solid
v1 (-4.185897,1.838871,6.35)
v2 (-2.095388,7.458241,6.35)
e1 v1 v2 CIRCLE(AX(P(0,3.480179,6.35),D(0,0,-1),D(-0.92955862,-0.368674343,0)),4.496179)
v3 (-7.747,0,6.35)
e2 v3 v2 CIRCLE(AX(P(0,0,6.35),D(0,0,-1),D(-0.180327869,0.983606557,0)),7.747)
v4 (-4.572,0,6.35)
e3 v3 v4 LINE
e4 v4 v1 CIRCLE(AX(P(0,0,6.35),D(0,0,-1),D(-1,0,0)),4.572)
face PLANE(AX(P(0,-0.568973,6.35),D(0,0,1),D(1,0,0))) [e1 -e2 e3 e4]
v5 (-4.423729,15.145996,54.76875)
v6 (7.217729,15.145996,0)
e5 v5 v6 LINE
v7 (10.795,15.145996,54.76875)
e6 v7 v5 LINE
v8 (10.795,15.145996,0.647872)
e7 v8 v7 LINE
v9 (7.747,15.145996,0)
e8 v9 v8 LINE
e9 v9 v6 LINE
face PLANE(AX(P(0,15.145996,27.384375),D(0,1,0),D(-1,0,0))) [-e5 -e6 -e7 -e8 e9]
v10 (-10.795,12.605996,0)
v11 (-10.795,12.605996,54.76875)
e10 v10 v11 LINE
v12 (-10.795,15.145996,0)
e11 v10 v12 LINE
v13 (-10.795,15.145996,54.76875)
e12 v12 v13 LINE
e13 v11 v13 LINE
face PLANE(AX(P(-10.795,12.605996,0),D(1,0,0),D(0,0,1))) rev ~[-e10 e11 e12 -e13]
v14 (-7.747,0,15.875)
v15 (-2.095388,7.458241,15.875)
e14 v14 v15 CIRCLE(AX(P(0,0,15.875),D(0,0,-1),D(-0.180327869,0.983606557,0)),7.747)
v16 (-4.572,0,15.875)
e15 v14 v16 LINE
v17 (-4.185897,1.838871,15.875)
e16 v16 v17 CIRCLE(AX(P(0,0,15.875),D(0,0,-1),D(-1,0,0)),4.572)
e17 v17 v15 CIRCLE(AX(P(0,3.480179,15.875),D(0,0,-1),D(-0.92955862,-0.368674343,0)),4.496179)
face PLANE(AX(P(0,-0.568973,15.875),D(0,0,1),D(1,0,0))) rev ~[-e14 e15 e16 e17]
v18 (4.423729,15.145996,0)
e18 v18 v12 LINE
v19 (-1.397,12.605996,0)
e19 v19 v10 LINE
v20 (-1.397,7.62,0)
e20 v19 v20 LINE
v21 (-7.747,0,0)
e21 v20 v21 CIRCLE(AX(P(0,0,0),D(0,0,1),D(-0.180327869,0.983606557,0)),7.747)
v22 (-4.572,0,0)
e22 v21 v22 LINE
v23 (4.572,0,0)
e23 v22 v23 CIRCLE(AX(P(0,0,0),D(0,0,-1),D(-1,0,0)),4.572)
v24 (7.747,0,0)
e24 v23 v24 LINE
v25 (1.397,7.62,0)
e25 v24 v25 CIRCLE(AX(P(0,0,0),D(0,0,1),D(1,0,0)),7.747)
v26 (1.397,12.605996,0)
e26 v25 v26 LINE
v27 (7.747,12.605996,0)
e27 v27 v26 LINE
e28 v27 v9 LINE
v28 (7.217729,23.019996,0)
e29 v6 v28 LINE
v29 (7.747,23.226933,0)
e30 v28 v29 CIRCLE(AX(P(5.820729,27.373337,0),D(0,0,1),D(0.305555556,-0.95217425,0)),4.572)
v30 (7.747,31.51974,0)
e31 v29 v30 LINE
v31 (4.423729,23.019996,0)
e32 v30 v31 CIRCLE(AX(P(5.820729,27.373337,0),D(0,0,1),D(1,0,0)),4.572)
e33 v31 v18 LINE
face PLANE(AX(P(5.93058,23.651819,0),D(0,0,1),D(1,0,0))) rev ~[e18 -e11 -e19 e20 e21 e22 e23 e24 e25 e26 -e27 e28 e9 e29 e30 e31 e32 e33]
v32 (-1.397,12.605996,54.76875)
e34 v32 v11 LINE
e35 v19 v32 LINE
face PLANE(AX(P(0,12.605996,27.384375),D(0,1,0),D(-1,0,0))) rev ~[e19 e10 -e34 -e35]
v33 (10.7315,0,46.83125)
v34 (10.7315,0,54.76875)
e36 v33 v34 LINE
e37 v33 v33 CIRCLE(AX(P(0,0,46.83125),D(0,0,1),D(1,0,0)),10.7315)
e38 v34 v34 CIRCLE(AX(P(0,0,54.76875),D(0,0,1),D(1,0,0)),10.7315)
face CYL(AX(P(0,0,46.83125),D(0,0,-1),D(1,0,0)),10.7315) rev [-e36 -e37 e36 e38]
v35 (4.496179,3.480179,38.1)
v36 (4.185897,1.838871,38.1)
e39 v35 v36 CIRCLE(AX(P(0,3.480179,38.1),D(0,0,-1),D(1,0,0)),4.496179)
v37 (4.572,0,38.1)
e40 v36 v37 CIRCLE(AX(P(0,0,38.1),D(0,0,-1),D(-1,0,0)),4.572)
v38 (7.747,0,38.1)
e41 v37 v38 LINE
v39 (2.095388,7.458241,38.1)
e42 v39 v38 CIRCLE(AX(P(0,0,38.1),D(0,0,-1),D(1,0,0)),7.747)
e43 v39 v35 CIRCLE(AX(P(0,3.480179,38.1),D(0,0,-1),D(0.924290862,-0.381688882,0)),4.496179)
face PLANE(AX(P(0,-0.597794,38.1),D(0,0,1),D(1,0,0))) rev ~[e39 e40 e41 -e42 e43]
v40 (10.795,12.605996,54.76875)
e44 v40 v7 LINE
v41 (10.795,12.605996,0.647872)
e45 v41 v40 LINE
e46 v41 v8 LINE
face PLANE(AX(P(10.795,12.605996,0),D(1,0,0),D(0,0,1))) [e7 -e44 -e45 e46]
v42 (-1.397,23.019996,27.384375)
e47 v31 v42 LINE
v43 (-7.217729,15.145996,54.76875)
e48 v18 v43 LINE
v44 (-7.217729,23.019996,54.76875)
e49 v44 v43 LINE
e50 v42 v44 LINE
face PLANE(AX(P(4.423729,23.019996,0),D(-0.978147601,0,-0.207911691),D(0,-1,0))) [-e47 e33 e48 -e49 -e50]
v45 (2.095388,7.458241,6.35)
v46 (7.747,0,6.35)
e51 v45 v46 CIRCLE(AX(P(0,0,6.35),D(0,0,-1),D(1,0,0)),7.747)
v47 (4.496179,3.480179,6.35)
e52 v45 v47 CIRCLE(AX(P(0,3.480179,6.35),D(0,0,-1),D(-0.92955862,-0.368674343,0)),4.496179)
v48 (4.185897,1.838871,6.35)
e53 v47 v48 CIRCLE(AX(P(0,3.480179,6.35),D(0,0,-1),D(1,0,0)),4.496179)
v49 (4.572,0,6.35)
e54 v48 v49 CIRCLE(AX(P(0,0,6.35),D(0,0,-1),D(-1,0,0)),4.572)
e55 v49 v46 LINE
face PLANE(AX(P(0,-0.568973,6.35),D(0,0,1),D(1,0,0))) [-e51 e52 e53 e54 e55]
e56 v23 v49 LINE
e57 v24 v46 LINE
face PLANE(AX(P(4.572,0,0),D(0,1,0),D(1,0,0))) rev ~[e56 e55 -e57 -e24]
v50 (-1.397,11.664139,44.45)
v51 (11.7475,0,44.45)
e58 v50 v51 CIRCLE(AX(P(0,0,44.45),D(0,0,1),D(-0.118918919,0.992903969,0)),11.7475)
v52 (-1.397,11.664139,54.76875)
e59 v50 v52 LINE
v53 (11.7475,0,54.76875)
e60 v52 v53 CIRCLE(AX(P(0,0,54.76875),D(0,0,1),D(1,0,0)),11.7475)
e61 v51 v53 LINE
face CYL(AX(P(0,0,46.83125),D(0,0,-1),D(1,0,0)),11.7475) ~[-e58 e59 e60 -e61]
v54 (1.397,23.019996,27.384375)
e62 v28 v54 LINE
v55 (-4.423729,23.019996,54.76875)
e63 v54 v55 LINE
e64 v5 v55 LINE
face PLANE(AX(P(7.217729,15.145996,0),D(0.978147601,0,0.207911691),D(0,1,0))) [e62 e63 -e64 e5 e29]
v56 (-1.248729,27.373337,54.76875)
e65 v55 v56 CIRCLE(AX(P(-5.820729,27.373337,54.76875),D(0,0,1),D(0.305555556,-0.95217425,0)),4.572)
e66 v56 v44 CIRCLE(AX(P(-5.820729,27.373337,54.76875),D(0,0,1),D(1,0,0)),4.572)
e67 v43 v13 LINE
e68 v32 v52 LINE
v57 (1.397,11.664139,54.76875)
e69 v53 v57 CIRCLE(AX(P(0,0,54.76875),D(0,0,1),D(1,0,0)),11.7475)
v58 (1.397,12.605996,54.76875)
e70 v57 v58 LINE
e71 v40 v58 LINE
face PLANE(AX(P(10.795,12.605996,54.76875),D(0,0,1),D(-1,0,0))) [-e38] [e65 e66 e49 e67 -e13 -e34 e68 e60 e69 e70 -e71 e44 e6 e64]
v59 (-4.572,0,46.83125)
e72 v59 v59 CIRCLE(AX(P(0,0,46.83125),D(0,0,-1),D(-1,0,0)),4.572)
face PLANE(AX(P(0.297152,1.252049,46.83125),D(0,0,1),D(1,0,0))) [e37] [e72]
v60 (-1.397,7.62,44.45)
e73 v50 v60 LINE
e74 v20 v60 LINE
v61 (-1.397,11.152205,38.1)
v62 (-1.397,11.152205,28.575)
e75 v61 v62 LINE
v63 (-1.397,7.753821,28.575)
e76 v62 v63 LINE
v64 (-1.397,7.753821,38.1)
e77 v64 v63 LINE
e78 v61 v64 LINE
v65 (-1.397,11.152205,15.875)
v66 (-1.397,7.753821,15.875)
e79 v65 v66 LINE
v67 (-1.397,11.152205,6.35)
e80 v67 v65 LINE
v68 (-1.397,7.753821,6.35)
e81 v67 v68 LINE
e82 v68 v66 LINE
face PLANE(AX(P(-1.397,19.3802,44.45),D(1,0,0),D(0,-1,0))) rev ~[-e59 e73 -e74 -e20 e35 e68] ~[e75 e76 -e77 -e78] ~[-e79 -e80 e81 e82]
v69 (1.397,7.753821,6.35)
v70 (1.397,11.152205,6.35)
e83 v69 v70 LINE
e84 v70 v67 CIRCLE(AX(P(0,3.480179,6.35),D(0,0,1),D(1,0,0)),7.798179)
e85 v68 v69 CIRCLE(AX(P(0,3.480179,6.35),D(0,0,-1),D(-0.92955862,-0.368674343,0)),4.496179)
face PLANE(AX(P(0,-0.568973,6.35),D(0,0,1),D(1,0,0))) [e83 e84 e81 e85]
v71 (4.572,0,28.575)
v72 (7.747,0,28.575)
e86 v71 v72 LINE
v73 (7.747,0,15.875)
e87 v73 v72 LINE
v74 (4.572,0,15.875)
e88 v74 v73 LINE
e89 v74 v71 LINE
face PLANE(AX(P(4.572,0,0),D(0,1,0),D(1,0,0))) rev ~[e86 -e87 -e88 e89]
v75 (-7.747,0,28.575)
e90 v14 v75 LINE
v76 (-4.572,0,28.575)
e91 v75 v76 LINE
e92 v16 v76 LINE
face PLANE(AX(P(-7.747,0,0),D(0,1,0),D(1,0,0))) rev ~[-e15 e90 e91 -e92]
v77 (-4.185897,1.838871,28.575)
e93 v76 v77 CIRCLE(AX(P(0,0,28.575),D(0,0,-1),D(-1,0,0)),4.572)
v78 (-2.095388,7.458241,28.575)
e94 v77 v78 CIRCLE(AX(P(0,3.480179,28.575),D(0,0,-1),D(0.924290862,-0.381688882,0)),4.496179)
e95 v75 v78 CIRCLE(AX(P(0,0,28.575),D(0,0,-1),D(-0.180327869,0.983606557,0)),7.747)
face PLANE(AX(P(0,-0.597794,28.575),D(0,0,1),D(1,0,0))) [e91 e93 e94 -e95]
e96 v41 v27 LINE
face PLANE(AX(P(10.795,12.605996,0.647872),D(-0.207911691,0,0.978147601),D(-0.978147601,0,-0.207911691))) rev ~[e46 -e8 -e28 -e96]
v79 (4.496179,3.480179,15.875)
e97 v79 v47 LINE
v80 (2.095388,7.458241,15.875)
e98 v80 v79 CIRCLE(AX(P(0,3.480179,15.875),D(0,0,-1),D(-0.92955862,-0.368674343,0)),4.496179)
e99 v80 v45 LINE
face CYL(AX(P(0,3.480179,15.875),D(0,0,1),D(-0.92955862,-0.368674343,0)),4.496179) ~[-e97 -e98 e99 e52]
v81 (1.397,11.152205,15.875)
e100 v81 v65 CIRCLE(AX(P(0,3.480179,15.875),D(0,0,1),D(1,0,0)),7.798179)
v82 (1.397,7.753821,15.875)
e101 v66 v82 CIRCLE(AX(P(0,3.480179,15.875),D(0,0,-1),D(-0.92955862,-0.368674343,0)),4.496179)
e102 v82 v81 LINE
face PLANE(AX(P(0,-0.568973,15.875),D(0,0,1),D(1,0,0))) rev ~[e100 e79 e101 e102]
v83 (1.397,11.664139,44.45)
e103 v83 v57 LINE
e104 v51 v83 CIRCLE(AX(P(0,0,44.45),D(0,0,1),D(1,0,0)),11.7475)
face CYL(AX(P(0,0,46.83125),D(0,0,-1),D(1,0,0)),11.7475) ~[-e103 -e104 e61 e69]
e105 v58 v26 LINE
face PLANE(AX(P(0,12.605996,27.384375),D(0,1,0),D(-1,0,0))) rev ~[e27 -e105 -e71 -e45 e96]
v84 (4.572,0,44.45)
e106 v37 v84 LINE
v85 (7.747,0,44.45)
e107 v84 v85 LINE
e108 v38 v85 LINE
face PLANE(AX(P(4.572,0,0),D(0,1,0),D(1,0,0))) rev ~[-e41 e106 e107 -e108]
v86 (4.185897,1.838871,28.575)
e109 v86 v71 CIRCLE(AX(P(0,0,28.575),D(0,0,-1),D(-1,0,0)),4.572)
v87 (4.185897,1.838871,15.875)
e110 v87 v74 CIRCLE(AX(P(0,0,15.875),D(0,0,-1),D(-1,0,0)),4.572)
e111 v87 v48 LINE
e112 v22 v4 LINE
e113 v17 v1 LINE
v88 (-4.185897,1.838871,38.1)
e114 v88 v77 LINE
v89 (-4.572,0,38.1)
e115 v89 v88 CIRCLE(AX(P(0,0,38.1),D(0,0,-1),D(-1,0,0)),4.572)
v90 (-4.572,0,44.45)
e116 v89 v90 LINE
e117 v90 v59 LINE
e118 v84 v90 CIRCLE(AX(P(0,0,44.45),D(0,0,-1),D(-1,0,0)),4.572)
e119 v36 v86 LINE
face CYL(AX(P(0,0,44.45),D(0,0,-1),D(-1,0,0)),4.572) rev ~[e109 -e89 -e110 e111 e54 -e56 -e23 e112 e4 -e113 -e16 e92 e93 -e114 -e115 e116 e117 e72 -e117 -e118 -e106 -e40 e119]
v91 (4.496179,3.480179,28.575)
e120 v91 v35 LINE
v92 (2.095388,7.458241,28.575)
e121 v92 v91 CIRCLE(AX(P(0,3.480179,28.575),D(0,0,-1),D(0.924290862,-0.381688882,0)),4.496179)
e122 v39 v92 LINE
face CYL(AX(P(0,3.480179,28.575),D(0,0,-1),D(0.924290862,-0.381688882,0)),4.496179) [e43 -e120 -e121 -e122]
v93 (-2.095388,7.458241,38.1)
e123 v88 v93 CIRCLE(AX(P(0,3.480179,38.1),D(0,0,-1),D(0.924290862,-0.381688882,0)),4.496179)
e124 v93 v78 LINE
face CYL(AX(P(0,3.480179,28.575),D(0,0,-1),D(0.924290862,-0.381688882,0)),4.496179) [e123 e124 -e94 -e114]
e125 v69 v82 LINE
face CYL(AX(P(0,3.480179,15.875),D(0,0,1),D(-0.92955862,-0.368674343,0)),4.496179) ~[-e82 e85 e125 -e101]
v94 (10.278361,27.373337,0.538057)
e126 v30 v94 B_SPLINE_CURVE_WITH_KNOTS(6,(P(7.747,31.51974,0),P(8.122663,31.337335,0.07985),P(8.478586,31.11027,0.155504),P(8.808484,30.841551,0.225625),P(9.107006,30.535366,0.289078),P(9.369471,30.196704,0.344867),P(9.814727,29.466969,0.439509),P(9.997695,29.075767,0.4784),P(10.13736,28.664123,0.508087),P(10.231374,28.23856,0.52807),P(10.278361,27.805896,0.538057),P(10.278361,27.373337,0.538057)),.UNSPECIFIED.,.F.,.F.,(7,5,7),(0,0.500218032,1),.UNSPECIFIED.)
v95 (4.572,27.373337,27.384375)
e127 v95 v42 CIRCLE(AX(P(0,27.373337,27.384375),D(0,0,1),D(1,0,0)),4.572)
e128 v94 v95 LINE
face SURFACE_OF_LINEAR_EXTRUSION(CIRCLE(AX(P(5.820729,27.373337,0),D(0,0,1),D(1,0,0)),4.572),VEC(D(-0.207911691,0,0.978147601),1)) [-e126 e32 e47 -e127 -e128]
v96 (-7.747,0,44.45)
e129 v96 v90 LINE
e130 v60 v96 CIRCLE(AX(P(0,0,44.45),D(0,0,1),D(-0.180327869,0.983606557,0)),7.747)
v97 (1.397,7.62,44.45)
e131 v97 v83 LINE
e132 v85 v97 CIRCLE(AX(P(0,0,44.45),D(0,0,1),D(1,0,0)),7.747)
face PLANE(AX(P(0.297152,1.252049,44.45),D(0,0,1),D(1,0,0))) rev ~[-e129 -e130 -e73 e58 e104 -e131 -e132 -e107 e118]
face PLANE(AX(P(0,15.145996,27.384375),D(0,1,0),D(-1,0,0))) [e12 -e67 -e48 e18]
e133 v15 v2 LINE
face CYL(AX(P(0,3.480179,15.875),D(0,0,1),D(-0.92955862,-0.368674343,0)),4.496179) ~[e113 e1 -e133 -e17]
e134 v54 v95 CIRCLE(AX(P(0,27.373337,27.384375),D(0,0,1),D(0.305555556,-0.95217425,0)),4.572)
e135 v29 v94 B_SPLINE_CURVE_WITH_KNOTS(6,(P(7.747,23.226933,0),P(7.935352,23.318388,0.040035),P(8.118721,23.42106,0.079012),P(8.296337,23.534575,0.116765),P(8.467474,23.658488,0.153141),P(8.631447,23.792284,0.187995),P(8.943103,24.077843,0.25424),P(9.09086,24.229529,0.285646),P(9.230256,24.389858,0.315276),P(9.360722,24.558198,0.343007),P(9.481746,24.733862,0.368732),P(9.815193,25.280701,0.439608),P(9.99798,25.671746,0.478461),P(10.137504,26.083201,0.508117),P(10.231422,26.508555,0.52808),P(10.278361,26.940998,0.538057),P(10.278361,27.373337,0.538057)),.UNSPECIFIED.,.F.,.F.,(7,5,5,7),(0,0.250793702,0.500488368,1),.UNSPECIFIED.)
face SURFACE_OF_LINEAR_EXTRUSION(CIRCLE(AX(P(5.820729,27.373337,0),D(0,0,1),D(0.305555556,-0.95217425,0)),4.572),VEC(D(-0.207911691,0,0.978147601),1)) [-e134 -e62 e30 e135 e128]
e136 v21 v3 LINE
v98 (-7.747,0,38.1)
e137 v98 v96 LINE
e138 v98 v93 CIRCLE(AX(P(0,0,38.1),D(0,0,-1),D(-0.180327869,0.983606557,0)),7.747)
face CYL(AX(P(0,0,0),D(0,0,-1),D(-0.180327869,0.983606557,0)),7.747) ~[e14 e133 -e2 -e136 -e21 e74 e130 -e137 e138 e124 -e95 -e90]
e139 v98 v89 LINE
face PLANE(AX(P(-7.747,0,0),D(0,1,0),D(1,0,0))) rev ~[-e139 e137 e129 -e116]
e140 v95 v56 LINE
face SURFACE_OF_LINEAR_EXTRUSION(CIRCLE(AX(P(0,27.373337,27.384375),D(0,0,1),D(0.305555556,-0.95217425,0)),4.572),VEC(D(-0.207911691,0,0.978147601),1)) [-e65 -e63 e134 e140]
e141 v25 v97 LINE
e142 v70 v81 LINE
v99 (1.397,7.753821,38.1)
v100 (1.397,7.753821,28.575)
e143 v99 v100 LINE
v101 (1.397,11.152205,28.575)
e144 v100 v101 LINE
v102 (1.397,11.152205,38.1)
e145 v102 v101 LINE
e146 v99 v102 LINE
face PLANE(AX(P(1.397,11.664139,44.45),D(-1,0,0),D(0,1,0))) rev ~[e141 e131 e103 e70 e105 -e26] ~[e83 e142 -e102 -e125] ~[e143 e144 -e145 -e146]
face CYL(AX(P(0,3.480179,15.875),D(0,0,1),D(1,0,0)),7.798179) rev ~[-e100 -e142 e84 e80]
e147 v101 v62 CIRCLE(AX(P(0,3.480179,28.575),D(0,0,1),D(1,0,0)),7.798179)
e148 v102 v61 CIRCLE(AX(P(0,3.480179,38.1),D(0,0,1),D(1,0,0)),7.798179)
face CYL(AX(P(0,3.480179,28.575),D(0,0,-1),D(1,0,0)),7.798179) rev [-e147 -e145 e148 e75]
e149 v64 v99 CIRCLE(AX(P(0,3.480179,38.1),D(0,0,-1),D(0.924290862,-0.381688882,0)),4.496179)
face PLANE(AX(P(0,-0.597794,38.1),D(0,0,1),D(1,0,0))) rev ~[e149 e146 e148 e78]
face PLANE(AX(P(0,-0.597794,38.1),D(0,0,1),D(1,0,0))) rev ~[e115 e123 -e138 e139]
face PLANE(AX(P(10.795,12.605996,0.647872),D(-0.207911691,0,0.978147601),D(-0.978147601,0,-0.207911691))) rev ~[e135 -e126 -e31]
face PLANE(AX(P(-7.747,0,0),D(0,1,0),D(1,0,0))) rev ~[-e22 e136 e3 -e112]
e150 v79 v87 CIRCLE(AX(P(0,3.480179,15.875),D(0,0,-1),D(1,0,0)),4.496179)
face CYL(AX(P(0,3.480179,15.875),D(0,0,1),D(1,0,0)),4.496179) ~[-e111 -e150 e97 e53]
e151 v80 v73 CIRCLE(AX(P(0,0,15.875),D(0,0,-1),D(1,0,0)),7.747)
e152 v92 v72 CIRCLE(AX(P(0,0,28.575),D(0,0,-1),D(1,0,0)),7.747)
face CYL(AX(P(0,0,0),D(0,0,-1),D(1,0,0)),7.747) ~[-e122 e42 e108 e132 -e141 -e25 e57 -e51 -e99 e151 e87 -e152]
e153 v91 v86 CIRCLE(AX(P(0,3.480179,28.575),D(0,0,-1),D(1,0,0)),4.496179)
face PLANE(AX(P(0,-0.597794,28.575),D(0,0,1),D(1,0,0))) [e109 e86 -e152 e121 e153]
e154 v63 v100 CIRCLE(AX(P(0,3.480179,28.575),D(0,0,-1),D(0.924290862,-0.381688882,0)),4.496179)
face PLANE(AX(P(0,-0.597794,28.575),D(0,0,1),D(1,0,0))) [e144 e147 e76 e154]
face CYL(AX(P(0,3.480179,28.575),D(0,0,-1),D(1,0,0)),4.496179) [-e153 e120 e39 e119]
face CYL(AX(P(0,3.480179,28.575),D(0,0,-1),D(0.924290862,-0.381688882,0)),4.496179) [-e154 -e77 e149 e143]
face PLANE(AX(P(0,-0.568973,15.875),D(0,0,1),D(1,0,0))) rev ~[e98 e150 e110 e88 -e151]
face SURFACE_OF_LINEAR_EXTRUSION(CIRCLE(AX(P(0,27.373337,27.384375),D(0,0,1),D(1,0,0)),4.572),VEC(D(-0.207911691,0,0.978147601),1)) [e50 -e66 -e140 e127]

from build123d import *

# Parameters (mm, degrees)
F1_DEPTH  = 44.45
F9_DEPTH  = 9.525
F10_DEPTH = 9.525
F12_DEPTH = 2.38125
F13_R     = 11.7475
F13_R_2   = 10.7315
F14_DEPTH = 7.9375
F15_DEPTH = 10.31875
F16_W     = 26.9525004551
F16_H     = 57.8892836347
F17_DEPTH = 12.7
F19_W     = 21.59
F19_H     = 54.76875
F20_DEPTH = 2.54
F27_DEPTH = 25.4


with BuildPart() as f1:
    # F0 (on Top) → F1 (new body)
    with BuildSketch(Plane.XY):
        with BuildLine():
            ThreePointArc((-4.572, 0), (0, 4.572), (4.572, 0))
            Line((4.572, 0), (7.747, 0))
            ThreePointArc((7.747, 0), (5.951410253, 4.9595085442), (1.397, 7.62))
            ThreePointArc((1.397, 7.62), (0, 7.747), (-1.397, 7.62))
            ThreePointArc((-1.397, 7.62), (-5.951410253, 4.9595085442), (-7.747, 0))
            Line((-7.747, 0), (-4.572, 0))
        make_face()
        with BuildLine():
            ThreePointArc((-1.397, 7.62), (0, 7.747), (1.397, 7.62))
            Line((1.397, 7.62), (1.397, 19.3802))
            ThreePointArc((1.397, 19.3802), (0, 19.1615406713), (-1.397, 19.3802))
            Line((-1.397, 19.3802), (-1.397, 7.62))
        make_face()
        with BuildLine():
            ThreePointArc((-1.397, 19.3802), (0, 19.1615406713), (1.397, 19.3802))
            ThreePointArc((1.397, 19.3802), (3.6939320514, 21.0394638349), (4.572, 23.7335406713))
            ThreePointArc((4.572, 23.7335406713), (-2.6940768363, 27.4274727226), (-1.397, 19.3802))
        make_face()
    extrude(amount=F1_DEPTH)

    # F6 (on offset) → F9 (cut)
    with BuildSketch(Plane.XY.offset(28.575)):
        with BuildLine():
            ThreePointArc((4.1557772601, 1.7640375299), (0, -1.016), (-4.1557772601, 1.7640375299))
            Line((-4.1557772601, 1.7640375299), (-7.6070004234, 1.7640375299))
            ThreePointArc((-7.6070004234, 1.7640375299), (0, -4.318), (7.6070004234, 1.7640375299))
            Line((7.6070004234, 1.7640375299), (4.1557772601, 1.7640375299))
        make_face()
        with BuildLine():
            ThreePointArc((-4.1557772601, 1.7640375299), (-0.8747878771, 7.8904367738), (4.4961791045, 3.4801791045))
            ThreePointArc((4.4961791045, 3.4801791045), (4.4102576693, 2.6053912274), (4.1557772601, 1.7640375299))
            Line((4.1557772601, 1.7640375299), (7.6070004234, 1.7640375299))
            ThreePointArc((7.6070004234, 1.7640375299), (7.750237064, 2.6168003938), (7.7981791045, 3.4801791045))
            ThreePointArc((7.7981791045, 3.4801791045), (-0.8633787106, 11.2304161684), (-7.6070004234, 1.7640375299))
            Line((-7.6070004234, 1.7640375299), (-4.1557772601, 1.7640375299))
        make_face()
        with BuildLine():
            ThreePointArc((7.6070004234, 1.7640375299), (0, -4.318), (-7.6070004234, 1.7640375299))
            Line((-7.6070004234, 1.7640375299), (-8.4216929972, 1.7640375299))
            Line((-8.4216929972, 1.7640375299), (-8.4216929972, -6.3198274001))
            Line((-8.4216929972, -6.3198274001), (11.7628639564, -6.3198274001))
            Line((11.7628639564, -6.3198274001), (11.7628639564, 1.7640375299))
            Line((11.7628639564, 1.7640375299), (7.6070004234, 1.7640375299))
        make_face()
    extrude(amount=F9_DEPTH, mode=Mode.SUBTRACT)

    # F8 (on offset) → F10 (cut)
    with BuildSketch(Plane.XY.offset(15.875)):
        with BuildLine():
            ThreePointArc((4.179462045, 1.8225532258), (0, -1.016), (-4.179462045, 1.8225532258))
            Line((-4.179462045, 1.8225532258), (-7.6199654718, 1.8225532258))
            ThreePointArc((-7.6199654718, 1.8225532258), (0, -4.318), (7.6199654718, 1.8225532258))
            Line((7.6199654718, 1.8225532258), (4.179462045, 1.8225532258))
        make_face()
        with BuildLine():
            ThreePointArc((-4.179462045, 1.8225532258), (-0.8438058499, 7.8964692022), (4.4961791045, 3.4801791045))
            ThreePointArc((4.4961791045, 3.4801791045), (4.4162900977, 2.6363732546), (4.179462045, 1.8225532258))
            Line((4.179462045, 1.8225532258), (7.6199654718, 1.8225532258))
            ThreePointArc((7.6199654718, 1.8225532258), (7.7534976902, 2.6465899292), (7.7981791045, 3.4801791045))
            ThreePointArc((7.7981791045, 3.4801791045), (-0.8335891753, 11.2336767947), (-7.6199654718, 1.8225532258))
            Line((-7.6199654718, 1.8225532258), (-4.179462045, 1.8225532258))
        make_face()
        with BuildLine():
            ThreePointArc((7.6199654718, 1.8225532258), (0, -4.318), (-7.6199654718, 1.8225532258))
            Line((-7.6199654718, 1.8225532258), (-8.5849482566, 1.8225532258))
            Line((-8.5849482566, 1.8225532258), (-8.5849482566, -5.9901881032))
            Line((-8.5849482566, -5.9901881032), (8.4006469697, -5.9901881032))
            Line((8.4006469697, -5.9901881032), (8.4006469697, 1.8225532258))
            Line((8.4006469697, 1.8225532258), (7.6199654718, 1.8225532258))
        make_face()
    extrude(amount=-F10_DEPTH, mode=Mode.SUBTRACT)

    # F11 (on face) → F12 (join)
    with BuildSketch(Plane.XY.offset(44.45)):
        with BuildLine():
            ThreePointArc((-1.397, 11.6641393703), (-7.7971949684, -8.7867802337), (11.7475, 0))
            ThreePointArc((11.7475, 0), (8.7867802337, 7.7971949684), (1.397, 11.6641393703))
            Line((1.397, 11.6641393703), (1.397, 7.62))
            ThreePointArc((1.397, 7.62), (5.951410253, 4.9595085442), (7.747, 0))
            Line((7.747, 0), (4.572, 0))
            ThreePointArc((4.572, 0), (0, -4.572), (-4.572, 0))
            Line((-4.572, 0), (-7.747, 0))
            ThreePointArc((-7.747, 0), (-5.951410253, 4.9595085442), (-1.397, 7.62))
            Line((-1.397, 7.62), (-1.397, 11.6641393703))
        make_face()
        with BuildLine():
            Line((1.397, 7.62), (1.397, 11.6641393703))
            ThreePointArc((1.397, 11.6641393703), (0, 11.7475), (-1.397, 11.6641393703))
            Line((-1.397, 11.6641393703), (-1.397, 7.62))
            ThreePointArc((-1.397, 7.62), (-5.951410253, 4.9595085442), (-7.747, 0))
            Line((-7.747, 0), (-4.572, 0))
            ThreePointArc((-4.572, 0), (0, 4.572), (4.572, 0))
            Line((4.572, 0), (7.747, 0))
            ThreePointArc((7.747, 0), (5.951410253, 4.9595085442), (1.397, 7.62))
        make_face()
    extrude(amount=F12_DEPTH)

    # F13 (on face) → F14 (join)
    with BuildSketch(Plane.XY.offset(46.83125)):
        Circle(F13_R)
        Circle(F13_R_2, mode=Mode.SUBTRACT)
    extrude(amount=F14_DEPTH)

    # F15 (add, through all): a face of the model
    f15_faces = [f1.faces().sort_by_distance(p)[0] for p in [
        (0, 21.7334038121, 44.45),
    ]]
    extrude(f15_faces, amount=F15_DEPTH)

    # F16 (on Right) → F17 (cut, symmetric)
    with BuildSketch(Plane.YZ):
        with Locations((26.0822460987, 27.6629510336)):
            Rectangle(F16_W, F16_H)
    extrude(amount=F17_DEPTH, both=True, mode=Mode.SUBTRACT)



with BuildPart() as f20:
    # F19 (on offset) → F20 (new body)
    with BuildSketch(Plane(origin=(0, 12.6059958711, 0), x_dir=(-1, 0, 0), z_dir=(0, 1, 0))):
        with Locations((0, 27.384375)):
            Rectangle(F19_W, F19_H)
    extrude(amount=F20_DEPTH)

    # F24: sweep along a path in F23
    with BuildLine(Plane(origin=(0, 15.1459958711, 0), x_dir=(-1, 0, 0), z_dir=(0, 1, 0))) as f24_path:
        Line((0, 27.384375), (5.8207285935, 54.76875))
    # F22 (on mid) → F24 (sweep)
    with BuildSketch(Plane.XY.offset(27.384375)):
        with BuildLine():
            ThreePointArc((4.572, 27.3733365424), (-2.6940768363, 31.0672685937), (-1.397, 23.0199958711))
            ThreePointArc((-1.397, 23.0199958711), (0, 22.8013365424), (1.397, 23.0199958711))
            ThreePointArc((1.397, 23.0199958711), (3.6939320514, 24.6792597061), (4.572, 27.3733365424))
        make_face()
        with BuildLine():
            Line((-1.397, 23.0199958711), (-1.397, 15.1459958711))
            Line((-1.397, 15.1459958711), (1.397, 15.1459958711))
            Line((1.397, 15.1459958711), (1.397, 23.0199958711))
            ThreePointArc((1.397, 23.0199958711), (0, 22.8013365424), (-1.397, 23.0199958711))
        make_face()
    sweep(path=f24_path.line)


with BuildPart() as f1_1:
    add(f1.part)

    add(f20.part)  # F25 merges F20
    # F25: sweep along a path in F23
    with BuildLine(Plane(origin=(0, 15.1459958711, 0), x_dir=(-1, 0, 0), z_dir=(0, 1, 0))) as f25_path:
        Line((-5.8207285935, 0), (0, 27.384375))
    # F22 (on mid) → F25 (sweep)
    with BuildSketch(Plane.XY.offset(27.384375)):
        with BuildLine():
            Line((-1.397, 23.0199958711), (-1.397, 15.1459958711))
            Line((-1.397, 15.1459958711), (1.397, 15.1459958711))
            Line((1.397, 15.1459958711), (1.397, 23.0199958711))
            ThreePointArc((1.397, 23.0199958711), (0, 22.8013365424), (-1.397, 23.0199958711))
        make_face()
        with BuildLine():
            ThreePointArc((4.572, 27.3733365424), (-2.6940768363, 31.0672685937), (-1.397, 23.0199958711))
            ThreePointArc((-1.397, 23.0199958711), (0, 22.8013365424), (1.397, 23.0199958711))
            ThreePointArc((1.397, 23.0199958711), (3.6939320514, 24.6792597061), (4.572, 27.3733365424))
        make_face()
    sweep(path=f25_path.line)

    # F26 (on face) → F27 (cut)
    with BuildSketch(Plane.XZ.offset(-12.6059958711)):
        Polygon((7.747, 0), (3.5317886158, -0.8959708385), (7.8619366049, -6.503867323), (24.6146406516, -1.8187895067), (20.6104957086, 2.7342204189), (10.795, 0.6478724), (10.795, 0), align=None)
        Polygon((10.795, 0.6478724), (7.747, 0), (10.795, 0), align=None)
    extrude(amount=-F27_DEPTH, mode=Mode.SUBTRACT)


solid = f1_1.part
